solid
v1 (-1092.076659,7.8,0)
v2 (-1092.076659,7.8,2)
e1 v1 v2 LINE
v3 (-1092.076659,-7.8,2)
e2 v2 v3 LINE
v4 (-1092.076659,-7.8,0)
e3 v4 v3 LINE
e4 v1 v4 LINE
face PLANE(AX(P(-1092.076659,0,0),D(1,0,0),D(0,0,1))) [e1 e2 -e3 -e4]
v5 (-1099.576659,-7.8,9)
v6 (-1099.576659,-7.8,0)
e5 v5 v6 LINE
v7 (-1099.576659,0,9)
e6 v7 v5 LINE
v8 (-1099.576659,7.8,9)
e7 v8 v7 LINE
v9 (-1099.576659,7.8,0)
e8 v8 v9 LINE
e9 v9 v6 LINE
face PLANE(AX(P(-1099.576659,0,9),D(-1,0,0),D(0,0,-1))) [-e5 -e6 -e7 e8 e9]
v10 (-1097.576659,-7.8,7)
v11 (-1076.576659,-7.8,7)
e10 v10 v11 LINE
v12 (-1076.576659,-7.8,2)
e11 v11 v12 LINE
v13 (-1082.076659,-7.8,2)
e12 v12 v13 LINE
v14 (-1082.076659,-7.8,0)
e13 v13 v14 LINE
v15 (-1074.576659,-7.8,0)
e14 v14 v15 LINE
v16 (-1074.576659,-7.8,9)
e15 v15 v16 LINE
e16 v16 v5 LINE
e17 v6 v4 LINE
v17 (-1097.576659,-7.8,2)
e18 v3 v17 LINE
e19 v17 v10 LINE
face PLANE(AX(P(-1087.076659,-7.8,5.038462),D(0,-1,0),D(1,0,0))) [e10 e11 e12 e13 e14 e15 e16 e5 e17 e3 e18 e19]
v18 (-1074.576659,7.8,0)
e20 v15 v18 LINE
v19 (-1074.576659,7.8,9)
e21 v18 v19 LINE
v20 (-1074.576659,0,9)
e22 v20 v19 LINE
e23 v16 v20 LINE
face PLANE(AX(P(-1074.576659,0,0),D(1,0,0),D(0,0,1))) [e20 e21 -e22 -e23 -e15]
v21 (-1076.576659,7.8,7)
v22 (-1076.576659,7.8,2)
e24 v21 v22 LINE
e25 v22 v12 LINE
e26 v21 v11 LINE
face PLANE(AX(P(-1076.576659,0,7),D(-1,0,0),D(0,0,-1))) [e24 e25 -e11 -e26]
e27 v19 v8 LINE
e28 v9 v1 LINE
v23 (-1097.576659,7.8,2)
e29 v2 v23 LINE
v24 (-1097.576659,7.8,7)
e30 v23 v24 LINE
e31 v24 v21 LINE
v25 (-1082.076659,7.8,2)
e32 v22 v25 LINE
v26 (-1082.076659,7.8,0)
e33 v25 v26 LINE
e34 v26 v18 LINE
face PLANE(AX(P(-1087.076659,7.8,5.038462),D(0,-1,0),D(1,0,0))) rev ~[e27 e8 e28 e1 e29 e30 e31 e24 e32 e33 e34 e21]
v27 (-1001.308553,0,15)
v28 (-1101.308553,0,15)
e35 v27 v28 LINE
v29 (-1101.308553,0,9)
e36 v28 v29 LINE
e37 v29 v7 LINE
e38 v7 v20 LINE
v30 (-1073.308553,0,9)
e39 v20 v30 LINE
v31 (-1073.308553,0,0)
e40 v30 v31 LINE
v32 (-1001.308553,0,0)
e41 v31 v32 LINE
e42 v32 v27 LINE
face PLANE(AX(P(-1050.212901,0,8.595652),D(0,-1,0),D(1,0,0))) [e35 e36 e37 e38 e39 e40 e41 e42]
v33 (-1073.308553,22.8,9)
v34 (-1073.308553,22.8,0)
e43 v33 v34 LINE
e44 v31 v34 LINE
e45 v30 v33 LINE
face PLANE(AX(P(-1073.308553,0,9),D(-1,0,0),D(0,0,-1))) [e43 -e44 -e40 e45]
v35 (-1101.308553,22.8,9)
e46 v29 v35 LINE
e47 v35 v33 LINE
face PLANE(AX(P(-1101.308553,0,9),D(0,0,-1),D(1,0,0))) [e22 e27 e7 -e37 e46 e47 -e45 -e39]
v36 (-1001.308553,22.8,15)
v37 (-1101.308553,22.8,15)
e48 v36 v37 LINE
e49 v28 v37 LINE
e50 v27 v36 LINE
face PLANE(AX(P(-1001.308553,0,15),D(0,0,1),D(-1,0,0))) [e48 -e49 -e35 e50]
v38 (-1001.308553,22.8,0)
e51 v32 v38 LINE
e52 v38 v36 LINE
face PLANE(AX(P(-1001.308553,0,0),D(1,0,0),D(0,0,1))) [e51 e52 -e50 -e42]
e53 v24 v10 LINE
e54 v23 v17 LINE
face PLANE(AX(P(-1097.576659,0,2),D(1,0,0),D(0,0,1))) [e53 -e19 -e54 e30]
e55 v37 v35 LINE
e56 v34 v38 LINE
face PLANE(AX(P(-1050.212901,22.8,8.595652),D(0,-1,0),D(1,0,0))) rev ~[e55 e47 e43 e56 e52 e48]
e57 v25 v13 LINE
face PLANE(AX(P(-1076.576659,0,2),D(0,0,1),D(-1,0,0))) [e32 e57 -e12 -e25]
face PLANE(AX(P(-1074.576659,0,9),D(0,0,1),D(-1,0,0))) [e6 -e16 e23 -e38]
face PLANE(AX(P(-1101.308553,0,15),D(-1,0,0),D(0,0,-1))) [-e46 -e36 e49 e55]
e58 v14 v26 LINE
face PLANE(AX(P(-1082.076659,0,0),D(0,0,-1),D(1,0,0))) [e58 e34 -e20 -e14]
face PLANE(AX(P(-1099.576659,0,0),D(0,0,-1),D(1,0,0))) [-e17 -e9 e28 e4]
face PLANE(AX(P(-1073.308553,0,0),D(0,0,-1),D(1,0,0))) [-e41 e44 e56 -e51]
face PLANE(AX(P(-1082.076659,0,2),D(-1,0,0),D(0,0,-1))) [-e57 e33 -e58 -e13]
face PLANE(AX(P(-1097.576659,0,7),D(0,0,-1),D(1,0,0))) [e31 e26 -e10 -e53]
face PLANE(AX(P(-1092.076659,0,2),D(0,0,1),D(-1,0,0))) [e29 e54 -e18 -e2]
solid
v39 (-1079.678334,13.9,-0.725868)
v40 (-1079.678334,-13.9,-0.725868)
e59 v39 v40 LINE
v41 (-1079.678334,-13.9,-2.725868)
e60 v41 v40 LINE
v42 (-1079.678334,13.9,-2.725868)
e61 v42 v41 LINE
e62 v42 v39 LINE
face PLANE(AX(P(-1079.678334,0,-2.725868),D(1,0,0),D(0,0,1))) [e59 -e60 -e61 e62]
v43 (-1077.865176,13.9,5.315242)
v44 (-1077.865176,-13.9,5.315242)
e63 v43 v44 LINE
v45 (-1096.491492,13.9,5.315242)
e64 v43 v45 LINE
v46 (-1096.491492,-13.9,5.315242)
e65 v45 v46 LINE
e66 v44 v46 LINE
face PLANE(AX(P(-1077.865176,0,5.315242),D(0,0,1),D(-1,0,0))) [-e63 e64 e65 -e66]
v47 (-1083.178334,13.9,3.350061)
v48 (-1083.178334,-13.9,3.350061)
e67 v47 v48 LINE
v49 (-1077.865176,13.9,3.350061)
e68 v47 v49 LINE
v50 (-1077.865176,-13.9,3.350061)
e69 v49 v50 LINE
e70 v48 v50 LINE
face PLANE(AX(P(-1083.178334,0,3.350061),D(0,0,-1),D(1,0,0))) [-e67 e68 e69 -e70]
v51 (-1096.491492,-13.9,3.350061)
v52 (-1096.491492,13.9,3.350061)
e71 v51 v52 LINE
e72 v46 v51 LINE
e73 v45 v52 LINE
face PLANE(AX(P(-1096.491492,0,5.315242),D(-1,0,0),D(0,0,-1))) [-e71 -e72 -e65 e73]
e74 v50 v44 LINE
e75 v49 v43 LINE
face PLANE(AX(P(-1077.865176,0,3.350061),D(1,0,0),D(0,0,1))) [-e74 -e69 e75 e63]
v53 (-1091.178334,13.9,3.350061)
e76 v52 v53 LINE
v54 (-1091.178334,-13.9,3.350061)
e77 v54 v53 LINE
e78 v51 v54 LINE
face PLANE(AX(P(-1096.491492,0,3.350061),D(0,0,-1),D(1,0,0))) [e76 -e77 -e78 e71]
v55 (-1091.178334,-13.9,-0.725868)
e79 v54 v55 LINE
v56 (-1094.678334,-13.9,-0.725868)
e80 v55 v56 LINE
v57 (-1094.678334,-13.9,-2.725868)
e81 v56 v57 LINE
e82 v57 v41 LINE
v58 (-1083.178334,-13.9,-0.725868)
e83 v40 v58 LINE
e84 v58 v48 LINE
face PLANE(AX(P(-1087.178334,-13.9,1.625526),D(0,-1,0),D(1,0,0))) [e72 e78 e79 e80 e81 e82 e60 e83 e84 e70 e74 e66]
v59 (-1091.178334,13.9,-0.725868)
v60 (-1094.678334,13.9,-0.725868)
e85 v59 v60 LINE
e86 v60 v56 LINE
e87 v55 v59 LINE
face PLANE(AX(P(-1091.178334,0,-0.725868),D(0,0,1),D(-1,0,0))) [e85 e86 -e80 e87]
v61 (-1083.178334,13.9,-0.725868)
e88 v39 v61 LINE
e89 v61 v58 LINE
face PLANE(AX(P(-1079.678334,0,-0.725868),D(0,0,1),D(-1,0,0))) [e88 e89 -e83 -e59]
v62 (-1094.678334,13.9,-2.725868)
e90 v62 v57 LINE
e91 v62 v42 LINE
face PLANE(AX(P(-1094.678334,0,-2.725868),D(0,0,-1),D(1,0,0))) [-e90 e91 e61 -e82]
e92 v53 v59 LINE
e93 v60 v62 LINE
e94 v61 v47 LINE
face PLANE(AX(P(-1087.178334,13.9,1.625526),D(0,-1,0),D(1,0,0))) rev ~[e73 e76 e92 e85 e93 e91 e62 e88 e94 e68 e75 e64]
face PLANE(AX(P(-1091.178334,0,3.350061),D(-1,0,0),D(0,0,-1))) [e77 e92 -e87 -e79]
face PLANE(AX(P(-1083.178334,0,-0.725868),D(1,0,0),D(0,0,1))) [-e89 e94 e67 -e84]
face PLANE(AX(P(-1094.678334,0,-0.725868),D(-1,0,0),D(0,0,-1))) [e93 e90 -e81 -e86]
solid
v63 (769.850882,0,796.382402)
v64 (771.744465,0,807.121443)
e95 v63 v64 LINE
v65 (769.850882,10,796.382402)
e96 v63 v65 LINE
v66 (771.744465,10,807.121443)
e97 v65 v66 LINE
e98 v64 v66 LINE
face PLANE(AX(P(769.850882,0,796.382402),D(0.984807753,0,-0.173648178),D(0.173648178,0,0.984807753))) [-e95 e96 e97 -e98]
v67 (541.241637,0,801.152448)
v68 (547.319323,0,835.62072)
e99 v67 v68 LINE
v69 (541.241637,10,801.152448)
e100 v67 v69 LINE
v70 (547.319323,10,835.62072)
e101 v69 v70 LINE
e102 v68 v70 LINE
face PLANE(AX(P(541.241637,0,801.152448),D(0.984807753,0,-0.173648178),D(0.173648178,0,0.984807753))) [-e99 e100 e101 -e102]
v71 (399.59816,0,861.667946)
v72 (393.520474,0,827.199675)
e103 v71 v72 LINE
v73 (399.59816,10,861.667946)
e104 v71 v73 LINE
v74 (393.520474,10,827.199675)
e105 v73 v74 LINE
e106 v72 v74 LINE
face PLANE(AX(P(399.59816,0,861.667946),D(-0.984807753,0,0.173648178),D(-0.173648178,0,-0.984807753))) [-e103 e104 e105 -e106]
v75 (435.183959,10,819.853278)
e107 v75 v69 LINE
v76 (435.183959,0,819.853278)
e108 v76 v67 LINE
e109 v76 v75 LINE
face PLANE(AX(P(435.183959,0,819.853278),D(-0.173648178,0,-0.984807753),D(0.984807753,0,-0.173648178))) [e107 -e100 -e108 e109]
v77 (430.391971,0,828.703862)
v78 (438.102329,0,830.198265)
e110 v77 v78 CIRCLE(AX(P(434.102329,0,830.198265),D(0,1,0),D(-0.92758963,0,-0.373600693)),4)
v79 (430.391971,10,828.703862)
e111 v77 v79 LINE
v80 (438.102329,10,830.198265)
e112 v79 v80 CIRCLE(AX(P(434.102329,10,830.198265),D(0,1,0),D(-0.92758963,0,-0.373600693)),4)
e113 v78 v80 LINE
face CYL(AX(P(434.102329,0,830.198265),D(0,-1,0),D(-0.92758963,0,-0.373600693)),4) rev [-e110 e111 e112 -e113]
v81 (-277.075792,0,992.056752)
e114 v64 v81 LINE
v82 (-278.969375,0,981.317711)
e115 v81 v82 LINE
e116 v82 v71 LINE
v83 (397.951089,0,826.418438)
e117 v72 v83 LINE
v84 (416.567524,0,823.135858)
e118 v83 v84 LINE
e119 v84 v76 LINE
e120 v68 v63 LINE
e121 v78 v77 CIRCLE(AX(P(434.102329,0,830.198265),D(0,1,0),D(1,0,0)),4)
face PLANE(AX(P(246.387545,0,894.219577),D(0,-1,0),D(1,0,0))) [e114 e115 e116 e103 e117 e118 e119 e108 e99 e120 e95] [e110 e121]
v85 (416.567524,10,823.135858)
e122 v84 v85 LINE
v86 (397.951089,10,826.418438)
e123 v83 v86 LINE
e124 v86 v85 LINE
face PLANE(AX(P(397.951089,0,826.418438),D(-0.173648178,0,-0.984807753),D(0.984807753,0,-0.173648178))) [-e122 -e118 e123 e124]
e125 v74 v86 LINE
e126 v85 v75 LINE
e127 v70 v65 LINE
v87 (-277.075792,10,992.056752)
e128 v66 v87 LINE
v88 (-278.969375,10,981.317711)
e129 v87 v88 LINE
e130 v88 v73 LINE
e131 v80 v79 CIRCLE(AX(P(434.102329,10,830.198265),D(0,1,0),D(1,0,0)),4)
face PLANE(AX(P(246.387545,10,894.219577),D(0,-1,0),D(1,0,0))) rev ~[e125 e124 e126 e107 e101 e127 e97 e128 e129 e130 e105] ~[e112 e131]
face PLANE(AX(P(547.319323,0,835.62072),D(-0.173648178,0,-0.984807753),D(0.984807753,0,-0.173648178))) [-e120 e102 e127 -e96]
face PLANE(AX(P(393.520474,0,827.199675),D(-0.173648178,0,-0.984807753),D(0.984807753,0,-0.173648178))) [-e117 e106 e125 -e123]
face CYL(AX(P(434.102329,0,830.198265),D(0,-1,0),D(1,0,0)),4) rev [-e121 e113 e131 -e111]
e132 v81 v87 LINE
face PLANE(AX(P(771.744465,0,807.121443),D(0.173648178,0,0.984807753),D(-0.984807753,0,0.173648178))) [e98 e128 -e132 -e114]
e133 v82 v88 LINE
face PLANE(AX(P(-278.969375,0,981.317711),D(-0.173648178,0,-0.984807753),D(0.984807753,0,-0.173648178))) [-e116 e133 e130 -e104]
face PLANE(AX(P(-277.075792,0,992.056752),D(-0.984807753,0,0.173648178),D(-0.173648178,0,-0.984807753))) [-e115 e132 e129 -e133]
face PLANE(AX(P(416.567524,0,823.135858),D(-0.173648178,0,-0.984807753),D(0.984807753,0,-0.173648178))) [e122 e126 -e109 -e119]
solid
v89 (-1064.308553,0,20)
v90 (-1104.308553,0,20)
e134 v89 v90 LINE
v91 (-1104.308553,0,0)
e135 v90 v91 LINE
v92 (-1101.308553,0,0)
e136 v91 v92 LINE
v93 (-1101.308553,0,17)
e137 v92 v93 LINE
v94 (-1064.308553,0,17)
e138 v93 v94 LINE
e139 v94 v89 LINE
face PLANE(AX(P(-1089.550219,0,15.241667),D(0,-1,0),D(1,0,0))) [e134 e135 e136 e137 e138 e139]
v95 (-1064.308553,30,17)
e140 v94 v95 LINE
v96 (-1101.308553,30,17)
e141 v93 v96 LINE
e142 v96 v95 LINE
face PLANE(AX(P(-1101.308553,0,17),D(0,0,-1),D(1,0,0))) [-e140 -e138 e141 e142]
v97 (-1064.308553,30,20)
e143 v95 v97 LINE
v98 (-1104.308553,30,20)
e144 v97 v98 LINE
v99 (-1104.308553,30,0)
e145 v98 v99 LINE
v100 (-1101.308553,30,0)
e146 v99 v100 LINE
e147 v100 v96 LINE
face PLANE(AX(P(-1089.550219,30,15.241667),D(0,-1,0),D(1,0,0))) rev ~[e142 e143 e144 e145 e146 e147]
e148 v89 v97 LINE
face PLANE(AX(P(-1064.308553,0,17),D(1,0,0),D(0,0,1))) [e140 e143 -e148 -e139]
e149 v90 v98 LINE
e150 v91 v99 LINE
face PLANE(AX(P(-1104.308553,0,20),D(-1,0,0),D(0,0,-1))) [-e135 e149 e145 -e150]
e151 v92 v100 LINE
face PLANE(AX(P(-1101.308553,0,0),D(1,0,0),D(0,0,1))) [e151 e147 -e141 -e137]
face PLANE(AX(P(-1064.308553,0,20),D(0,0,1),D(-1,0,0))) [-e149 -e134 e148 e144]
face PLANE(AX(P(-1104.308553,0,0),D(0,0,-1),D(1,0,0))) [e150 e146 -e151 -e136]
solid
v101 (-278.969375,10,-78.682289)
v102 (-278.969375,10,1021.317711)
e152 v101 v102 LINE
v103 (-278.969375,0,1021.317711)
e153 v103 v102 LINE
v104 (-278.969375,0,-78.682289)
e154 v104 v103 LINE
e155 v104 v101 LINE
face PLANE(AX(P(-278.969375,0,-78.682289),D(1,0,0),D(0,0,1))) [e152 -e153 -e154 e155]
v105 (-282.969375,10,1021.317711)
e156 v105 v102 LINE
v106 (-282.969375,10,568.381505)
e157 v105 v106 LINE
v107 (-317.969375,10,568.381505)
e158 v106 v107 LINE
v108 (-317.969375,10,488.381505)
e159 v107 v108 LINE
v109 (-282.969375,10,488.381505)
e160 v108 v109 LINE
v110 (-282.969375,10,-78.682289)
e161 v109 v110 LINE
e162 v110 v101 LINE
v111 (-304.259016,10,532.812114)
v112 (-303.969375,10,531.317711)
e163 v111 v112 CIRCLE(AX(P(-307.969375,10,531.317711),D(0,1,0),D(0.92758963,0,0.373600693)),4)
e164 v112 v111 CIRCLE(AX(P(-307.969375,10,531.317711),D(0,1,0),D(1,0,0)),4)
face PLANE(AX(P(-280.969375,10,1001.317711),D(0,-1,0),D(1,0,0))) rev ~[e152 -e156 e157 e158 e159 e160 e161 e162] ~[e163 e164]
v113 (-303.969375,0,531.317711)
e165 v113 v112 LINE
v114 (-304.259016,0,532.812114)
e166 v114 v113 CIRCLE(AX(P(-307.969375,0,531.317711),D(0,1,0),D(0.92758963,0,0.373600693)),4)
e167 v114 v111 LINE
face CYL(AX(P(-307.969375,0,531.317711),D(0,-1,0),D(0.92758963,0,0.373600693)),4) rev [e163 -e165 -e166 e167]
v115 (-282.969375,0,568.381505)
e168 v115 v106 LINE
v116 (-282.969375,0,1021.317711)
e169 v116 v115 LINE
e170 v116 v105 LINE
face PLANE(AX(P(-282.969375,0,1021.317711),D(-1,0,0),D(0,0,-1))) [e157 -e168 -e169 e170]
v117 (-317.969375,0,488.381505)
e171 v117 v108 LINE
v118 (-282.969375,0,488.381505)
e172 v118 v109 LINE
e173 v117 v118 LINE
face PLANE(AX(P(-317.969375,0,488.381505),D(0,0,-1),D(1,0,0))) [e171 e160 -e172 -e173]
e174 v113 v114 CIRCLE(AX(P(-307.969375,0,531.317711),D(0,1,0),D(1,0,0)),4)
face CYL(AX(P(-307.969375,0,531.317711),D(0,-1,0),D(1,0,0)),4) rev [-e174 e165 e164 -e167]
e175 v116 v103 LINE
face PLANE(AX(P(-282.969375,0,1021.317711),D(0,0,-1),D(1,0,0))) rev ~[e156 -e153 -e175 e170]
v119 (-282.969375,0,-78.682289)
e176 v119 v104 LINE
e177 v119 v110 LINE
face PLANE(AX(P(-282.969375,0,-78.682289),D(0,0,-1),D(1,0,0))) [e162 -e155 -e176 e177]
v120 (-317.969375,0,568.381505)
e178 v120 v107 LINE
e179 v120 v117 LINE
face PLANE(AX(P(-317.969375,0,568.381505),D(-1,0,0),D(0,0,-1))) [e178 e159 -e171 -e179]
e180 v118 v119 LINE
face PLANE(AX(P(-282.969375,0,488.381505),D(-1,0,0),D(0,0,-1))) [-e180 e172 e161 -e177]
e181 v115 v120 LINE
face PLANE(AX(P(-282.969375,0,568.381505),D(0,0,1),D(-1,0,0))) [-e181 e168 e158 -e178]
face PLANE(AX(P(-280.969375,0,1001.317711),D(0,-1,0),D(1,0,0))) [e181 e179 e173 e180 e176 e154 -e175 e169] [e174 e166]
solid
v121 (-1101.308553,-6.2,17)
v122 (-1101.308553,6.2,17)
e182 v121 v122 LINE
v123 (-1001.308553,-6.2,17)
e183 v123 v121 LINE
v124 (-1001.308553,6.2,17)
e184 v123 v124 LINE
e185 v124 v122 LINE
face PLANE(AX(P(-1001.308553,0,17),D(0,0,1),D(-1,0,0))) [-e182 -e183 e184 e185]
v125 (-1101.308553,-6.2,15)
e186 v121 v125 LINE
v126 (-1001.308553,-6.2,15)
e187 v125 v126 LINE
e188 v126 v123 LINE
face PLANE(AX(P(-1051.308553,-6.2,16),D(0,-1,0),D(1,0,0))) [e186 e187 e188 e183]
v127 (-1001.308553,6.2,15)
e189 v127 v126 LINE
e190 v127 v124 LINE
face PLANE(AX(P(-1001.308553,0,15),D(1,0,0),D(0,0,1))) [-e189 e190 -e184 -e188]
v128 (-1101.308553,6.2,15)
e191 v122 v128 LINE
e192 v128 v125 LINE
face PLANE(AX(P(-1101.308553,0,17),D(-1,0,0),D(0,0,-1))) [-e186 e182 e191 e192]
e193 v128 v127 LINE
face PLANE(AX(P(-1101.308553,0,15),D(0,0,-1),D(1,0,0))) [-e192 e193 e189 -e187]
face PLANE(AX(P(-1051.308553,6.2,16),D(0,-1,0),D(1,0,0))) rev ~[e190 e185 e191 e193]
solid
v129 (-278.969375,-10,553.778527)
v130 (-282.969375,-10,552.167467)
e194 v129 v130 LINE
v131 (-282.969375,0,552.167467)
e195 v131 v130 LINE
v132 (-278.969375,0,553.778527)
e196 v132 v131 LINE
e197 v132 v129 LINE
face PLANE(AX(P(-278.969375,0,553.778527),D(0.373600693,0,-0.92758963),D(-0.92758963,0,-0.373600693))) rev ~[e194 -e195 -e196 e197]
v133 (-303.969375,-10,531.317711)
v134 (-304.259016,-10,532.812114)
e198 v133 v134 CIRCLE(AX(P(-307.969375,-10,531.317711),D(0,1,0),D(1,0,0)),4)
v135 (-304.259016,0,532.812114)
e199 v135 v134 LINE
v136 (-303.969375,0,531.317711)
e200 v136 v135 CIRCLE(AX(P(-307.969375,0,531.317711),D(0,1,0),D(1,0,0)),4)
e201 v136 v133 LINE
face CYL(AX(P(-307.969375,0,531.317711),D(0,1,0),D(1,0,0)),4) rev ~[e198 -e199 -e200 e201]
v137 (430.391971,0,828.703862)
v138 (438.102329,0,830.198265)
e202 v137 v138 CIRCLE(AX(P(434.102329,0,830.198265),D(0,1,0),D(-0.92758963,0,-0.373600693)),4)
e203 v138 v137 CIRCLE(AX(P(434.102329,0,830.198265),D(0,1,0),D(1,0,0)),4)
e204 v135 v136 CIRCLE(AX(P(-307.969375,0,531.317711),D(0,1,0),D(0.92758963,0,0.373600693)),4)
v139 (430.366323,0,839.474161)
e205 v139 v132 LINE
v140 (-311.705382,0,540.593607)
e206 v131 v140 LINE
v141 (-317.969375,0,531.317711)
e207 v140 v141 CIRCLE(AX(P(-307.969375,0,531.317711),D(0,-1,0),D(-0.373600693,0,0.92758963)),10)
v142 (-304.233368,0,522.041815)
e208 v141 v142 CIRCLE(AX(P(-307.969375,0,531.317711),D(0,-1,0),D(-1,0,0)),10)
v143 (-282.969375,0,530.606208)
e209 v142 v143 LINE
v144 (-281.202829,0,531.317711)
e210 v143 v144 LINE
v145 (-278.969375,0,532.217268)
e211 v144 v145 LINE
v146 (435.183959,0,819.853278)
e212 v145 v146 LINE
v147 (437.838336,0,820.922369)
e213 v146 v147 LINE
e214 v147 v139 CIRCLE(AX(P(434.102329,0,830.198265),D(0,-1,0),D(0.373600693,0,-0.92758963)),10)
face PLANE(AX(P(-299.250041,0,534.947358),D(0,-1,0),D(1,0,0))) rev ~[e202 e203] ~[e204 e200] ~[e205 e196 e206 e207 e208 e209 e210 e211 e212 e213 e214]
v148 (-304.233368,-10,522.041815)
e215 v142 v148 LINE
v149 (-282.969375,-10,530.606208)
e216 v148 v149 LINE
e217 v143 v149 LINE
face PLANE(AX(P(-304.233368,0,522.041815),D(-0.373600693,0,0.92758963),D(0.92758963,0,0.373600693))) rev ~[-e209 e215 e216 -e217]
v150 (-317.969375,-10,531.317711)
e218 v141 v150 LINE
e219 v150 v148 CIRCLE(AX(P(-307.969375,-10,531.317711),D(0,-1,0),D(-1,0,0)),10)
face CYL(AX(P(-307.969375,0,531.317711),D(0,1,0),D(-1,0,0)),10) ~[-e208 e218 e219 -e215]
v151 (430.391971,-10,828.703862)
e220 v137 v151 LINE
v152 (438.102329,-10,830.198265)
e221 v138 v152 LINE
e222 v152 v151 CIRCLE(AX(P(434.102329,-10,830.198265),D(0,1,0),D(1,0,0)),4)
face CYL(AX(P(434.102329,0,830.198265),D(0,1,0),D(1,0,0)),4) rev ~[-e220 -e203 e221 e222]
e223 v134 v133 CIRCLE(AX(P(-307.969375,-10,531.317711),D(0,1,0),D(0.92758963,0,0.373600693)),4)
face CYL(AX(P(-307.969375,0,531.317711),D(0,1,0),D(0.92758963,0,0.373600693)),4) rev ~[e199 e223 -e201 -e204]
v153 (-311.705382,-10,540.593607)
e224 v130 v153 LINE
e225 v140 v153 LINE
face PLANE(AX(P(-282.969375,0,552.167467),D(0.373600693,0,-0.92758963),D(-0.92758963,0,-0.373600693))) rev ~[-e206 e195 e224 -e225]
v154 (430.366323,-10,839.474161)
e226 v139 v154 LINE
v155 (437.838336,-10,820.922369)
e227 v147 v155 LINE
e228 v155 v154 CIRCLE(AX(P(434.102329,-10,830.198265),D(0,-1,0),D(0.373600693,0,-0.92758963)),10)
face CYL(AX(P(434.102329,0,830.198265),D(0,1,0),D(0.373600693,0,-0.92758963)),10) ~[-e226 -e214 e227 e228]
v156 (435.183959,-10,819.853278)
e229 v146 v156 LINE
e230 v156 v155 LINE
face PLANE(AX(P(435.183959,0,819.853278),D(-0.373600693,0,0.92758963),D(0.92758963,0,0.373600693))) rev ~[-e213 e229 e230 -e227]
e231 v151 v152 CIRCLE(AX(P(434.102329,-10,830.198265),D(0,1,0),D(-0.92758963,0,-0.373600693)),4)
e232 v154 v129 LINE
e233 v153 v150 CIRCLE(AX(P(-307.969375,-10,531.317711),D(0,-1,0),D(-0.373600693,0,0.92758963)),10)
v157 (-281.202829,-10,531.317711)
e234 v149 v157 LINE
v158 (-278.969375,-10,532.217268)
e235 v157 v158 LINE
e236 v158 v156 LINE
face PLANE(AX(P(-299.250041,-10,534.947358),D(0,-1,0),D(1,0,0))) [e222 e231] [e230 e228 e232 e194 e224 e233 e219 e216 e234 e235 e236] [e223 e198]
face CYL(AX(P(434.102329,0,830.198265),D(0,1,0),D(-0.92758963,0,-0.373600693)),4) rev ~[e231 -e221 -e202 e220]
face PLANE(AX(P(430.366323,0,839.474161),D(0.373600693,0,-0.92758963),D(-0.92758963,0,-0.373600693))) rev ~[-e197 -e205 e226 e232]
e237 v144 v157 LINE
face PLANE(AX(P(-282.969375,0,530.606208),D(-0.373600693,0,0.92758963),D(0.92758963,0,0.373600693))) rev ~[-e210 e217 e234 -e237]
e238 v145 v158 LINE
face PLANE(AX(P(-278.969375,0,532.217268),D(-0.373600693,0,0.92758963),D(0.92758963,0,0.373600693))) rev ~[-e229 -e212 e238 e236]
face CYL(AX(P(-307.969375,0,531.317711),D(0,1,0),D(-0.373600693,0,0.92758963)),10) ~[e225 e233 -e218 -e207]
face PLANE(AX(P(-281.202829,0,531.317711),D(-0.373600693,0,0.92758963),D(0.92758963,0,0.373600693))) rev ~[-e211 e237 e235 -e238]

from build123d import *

# Parameters (mm, degrees)
F0_W     = 4
F0_H     = 40
F1_DEPTH = 10
F2_DEPTH = 10
F3_DEPTH = 30
F4_DEPTH = 22.8
F5_DEPTH = 6.2
F6_DEPTH = 7.8
F7_DEPTH = 13.9


with BuildPart() as f1:
    # F0 (on Front) → F1 (new body)
    with BuildSketch(Plane.XZ):
        with Locations((-280.9693748896, 1001.3177108765)):
            Rectangle(F0_W, F0_H)
        Polygon((-278.9693748896, 553.778526953), (-278.9693748896, 981.3177108765), (-282.9693748896, 981.3177108765), (-282.9693748896, 568.3815050125), (-282.9693748896, 552.1674667156), align=None)
        with BuildLine():
            Line((-282.9693748896, 552.1674667156), (-282.9693748896, 568.3815050125))
            Line((-282.9693748896, 568.3815050125), (-317.9693748896, 568.3815050125))
            Line((-317.9693748896, 568.3815050125), (-317.9693748896, 531.3177108765))
            ThreePointArc((-317.9693748896, 531.3177108765), (-316.2567167208, 536.9141352146), (-311.7053818151, 540.593607181))
            Line((-311.7053818151, 540.593607181), (-282.9693748896, 552.1674667156))
        make_face()
        with BuildLine():
            ThreePointArc((-304.233367964, 522.0418145719), (-313.5657992277, 523.0303690452), (-317.9693748896, 531.3177108765))
            Line((-317.9693748896, 531.3177108765), (-317.9693748896, 488.3815050125))
            Line((-317.9693748896, 488.3815050125), (-282.9693748896, 488.3815050125))
            Line((-282.9693748896, 488.3815050125), (-282.9693748896, 530.6062080044))
            Line((-282.9693748896, 530.6062080044), (-304.233367964, 522.0418145719))
        make_face()
        with BuildLine():
            Line((-282.9693748896, 541.38683736), (-282.9693748896, 552.1674667156))
            Line((-282.9693748896, 552.1674667156), (-311.7053818151, 540.593607181))
            ThreePointArc((-311.7053818151, 540.593607181), (-316.2567167208, 536.9141352146), (-317.9693748896, 531.3177108765))
            ThreePointArc((-317.9693748896, 531.3177108765), (-313.5657992277, 523.0303690452), (-304.233367964, 522.0418145719))
            Line((-304.233367964, 522.0418145719), (-282.9693748896, 530.6062080044))
            Line((-282.9693748896, 530.6062080044), (-282.9693748896, 531.3177108765))
            Line((-282.9693748896, 531.3177108765), (-303.9693748896, 531.3177108765))
            ThreePointArc((-303.9693748896, 531.3177108765), (-311.8962969723, 530.5566044737), (-304.2590163678, 532.8121136467))
            Line((-304.2590163678, 532.8121136467), (-282.9693748896, 541.38683736))
        make_face()
        with BuildLine():
            Line((-282.9693748896, 531.3177108765), (-282.9693748896, 541.38683736))
            Line((-282.9693748896, 541.38683736), (-304.2590163678, 532.8121136467))
            ThreePointArc((-304.2590163678, 532.8121136467), (-304.0424528069, 532.0788172793), (-303.9693748896, 531.3177108765))
            Line((-303.9693748896, 531.3177108765), (-282.9693748896, 531.3177108765))
        make_face()
        Polygon((-282.9693748896, 530.6062080044), (-281.2028292186, 531.3177108765), (-282.9693748896, 531.3177108765), align=None)
        Polygon((-278.9693748896, 531.3177108765), (-278.9693748896, 532.2172682418), (-281.2028292186, 531.3177108765), align=None)
        Polygon((-278.9693748896, 532.2172682418), (-278.9693748896, 542.9978975974), (-282.9693748896, 541.38683736), (-282.9693748896, 531.3177108765), (-281.2028292186, 531.3177108765), align=None)
        Polygon((-278.9693748896, 542.9978975974), (-278.9693748896, 553.778526953), (-282.9693748896, 552.1674667156), (-282.9693748896, 541.38683736), align=None)
        Polygon((-278.9693748896, -78.6822891235), (-278.9693748896, 531.3177108765), (-281.2028292186, 531.3177108765), (-282.9693748896, 530.6062080044), (-282.9693748896, 488.3815050125), (-282.9693748896, -78.6822891235), align=None)
    extrude(amount=-F1_DEPTH)


with BuildPart() as f1b:
    # F0 (on Front) → F1, piece 2 (new body)
    with BuildSketch(Plane.XZ):
        Polygon((-277.075792163, 992.0567521677), (-278.9693748896, 981.3177108765), (399.5981600666, 861.6679462309), (547.3193230184, 835.6207195808), (769.8508820684, 796.3824016612), (771.744464795, 807.1214429524), align=None)
        with BuildLine():
            Line((547.3193230184, 835.6207195808), (399.5981600666, 861.6679462309))
            Line((399.5981600666, 861.6679462309), (393.5204738483, 827.1996748754))
            Line((393.5204738483, 827.1996748754), (397.9510892088, 826.4184378462))
            Line((397.9510892088, 826.4184378462), (430.3663225466, 839.4741612251))
            ThreePointArc((430.3663225466, 839.4741612251), (443.3782257766, 833.9342718461), (437.8383363977, 820.9223686161))
            Line((437.8383363977, 820.9223686161), (435.1839593227, 819.8532782759))
            Line((435.1839593227, 819.8532782759), (541.2416368001, 801.1524482254))
            Line((541.2416368001, 801.1524482254), (547.3193230184, 835.6207195808))
        make_face()
        with BuildLine():
            Line((430.3663225466, 839.4741612251), (397.9510892088, 826.4184378462))
            Line((397.9510892088, 826.4184378462), (416.5675242658, 823.1358580611))
            Line((416.5675242658, 823.1358580611), (435.1839593227, 819.8532782759))
            Line((435.1839593227, 819.8532782759), (437.8383363977, 820.9223686161))
            ThreePointArc((437.8383363977, 820.9223686161), (443.3782257766, 833.9342718461), (430.3663225466, 839.4741612251))
        make_face()
        with BuildLine():
            ThreePointArc((438.1023294721, 830.1982649206), (434.8634358749, 826.2713428379), (430.3919709503, 828.7038621504))
            ThreePointArc((430.3919709503, 828.7038621504), (433.3412230693, 834.1251870033), (438.1023294721, 830.1982649206))
        make_face(mode=Mode.SUBTRACT)
    extrude(amount=-F1_DEPTH)


with BuildPart() as f2:
    # F0 (on Front) → F2 (new body)
    with BuildSketch(Plane.XZ):
        with BuildLine():
            Line((-282.9693748896, 541.38683736), (-282.9693748896, 552.1674667156))
            Line((-282.9693748896, 552.1674667156), (-311.7053818151, 540.593607181))
            ThreePointArc((-311.7053818151, 540.593607181), (-316.2567167208, 536.9141352146), (-317.9693748896, 531.3177108765))
            ThreePointArc((-317.9693748896, 531.3177108765), (-313.5657992277, 523.0303690452), (-304.233367964, 522.0418145719))
            Line((-304.233367964, 522.0418145719), (-282.9693748896, 530.6062080044))
            Line((-282.9693748896, 530.6062080044), (-282.9693748896, 531.3177108765))
            Line((-282.9693748896, 531.3177108765), (-303.9693748896, 531.3177108765))
            ThreePointArc((-303.9693748896, 531.3177108765), (-311.8962969723, 530.5566044737), (-304.2590163678, 532.8121136467))
            Line((-304.2590163678, 532.8121136467), (-282.9693748896, 541.38683736))
        make_face()
        Polygon((-278.9693748896, 542.9978975974), (-278.9693748896, 553.778526953), (-282.9693748896, 552.1674667156), (-282.9693748896, 541.38683736), align=None)
        with BuildLine():
            Line((-282.9693748896, 531.3177108765), (-282.9693748896, 541.38683736))
            Line((-282.9693748896, 541.38683736), (-304.2590163678, 532.8121136467))
            ThreePointArc((-304.2590163678, 532.8121136467), (-304.0424528069, 532.0788172793), (-303.9693748896, 531.3177108765))
            Line((-303.9693748896, 531.3177108765), (-282.9693748896, 531.3177108765))
        make_face()
        Polygon((-278.9693748896, 532.2172682418), (-278.9693748896, 542.9978975974), (-282.9693748896, 541.38683736), (-282.9693748896, 531.3177108765), (-281.2028292186, 531.3177108765), align=None)
        Polygon((-282.9693748896, 530.6062080044), (-281.2028292186, 531.3177108765), (-282.9693748896, 531.3177108765), align=None)
        Polygon((397.9510892088, 826.4184378462), (-278.9693748896, 553.778526953), (-278.9693748896, 542.9978975974), (416.5675242658, 823.1358580611), align=None)
        Polygon((416.5675242658, 823.1358580611), (-278.9693748896, 542.9978975974), (-278.9693748896, 532.2172682418), (435.1839593227, 819.8532782759), align=None)
        with BuildLine():
            Line((430.3663225466, 839.4741612251), (397.9510892088, 826.4184378462))
            Line((397.9510892088, 826.4184378462), (416.5675242658, 823.1358580611))
            Line((416.5675242658, 823.1358580611), (435.1839593227, 819.8532782759))
            Line((435.1839593227, 819.8532782759), (437.8383363977, 820.9223686161))
            ThreePointArc((437.8383363977, 820.9223686161), (443.3782257766, 833.9342718461), (430.3663225466, 839.4741612251))
        make_face()
        with BuildLine():
            ThreePointArc((438.1023294721, 830.1982649206), (434.8634358749, 826.2713428379), (430.3919709503, 828.7038621504))
            ThreePointArc((430.3919709503, 828.7038621504), (433.3412230693, 834.1251870033), (438.1023294721, 830.1982649206))
        make_face(mode=Mode.SUBTRACT)
    extrude(amount=F2_DEPTH)


with BuildPart() as f3:
    # F0 (on Front) → F3 (new body)
    with BuildSketch(Plane.XZ):
        Polygon((-1104.308552742, 20), (-1104.308552742, 0), (-1101.308552742, 0), (-1101.308552742, 9), (-1101.308552742, 15), (-1101.308552742, 17), (-1064.308552742, 17), (-1064.308552742, 20), align=None)
    extrude(amount=-F3_DEPTH)


with BuildPart() as f4:
    # F0 (on Front) → F4 (new body)
    with BuildSketch(Plane.XZ):
        Polygon((-1101.308552742, 15), (-1101.308552742, 9), (-1099.5766592026, 9), (-1074.5766592026, 9), (-1073.308552742, 9), (-1073.308552742, 0), (-1001.308552742, 0), (-1001.308552742, 15), align=None)
    extrude(amount=-F4_DEPTH)

    # F0 (on Front) → F6 (join, symmetric)
    with BuildSketch(Plane.XZ):
        Polygon((-1074.5766592026, 9), (-1099.5766592026, 9), (-1099.5766592026, 0), (-1092.0766592026, 0), (-1092.0766592026, 2), (-1097.5766592026, 2), (-1097.5766592026, 7), (-1076.5766592026, 7), (-1076.5766592026, 2), (-1082.0766592026, 2), (-1082.0766592026, 0), (-1074.5766592026, 0), align=None)
    extrude(amount=F6_DEPTH, both=True)


with BuildPart() as f5:
    # F0 (on Front) → F5 (new body, symmetric)
    with BuildSketch(Plane.XZ):
        Polygon((-1101.308552742, 17), (-1101.308552742, 15), (-1001.308552742, 15), (-1001.308552742, 17), (-1064.308552742, 17), align=None)
    extrude(amount=F5_DEPTH, both=True)


with BuildPart() as f7:
    # F0 (on Front) → F7 (new body, symmetric)
    with BuildSketch(Plane.XZ):
        Polygon((-1091.1783339338, -0.725868158), (-1094.6783339338, -0.725868158), (-1094.6783339338, -2.725868158), (-1079.6783339338, -2.725868158), (-1079.6783339338, -0.725868158), (-1083.1783339338, -0.725868158), (-1083.1783339338, 3.3500614809), (-1077.8651758985, 3.3500614809), (-1077.8651758985, 5.3152422188), (-1096.4914919691, 5.3152422188), (-1096.4914919691, 3.3500614809), (-1091.1783339338, 3.3500614809), align=None)
    extrude(amount=F7_DEPTH, both=True)


solid = Compound([f1.part, f1b.part, f2.part, f3.part, f4.part, f5.part, f7.part])
